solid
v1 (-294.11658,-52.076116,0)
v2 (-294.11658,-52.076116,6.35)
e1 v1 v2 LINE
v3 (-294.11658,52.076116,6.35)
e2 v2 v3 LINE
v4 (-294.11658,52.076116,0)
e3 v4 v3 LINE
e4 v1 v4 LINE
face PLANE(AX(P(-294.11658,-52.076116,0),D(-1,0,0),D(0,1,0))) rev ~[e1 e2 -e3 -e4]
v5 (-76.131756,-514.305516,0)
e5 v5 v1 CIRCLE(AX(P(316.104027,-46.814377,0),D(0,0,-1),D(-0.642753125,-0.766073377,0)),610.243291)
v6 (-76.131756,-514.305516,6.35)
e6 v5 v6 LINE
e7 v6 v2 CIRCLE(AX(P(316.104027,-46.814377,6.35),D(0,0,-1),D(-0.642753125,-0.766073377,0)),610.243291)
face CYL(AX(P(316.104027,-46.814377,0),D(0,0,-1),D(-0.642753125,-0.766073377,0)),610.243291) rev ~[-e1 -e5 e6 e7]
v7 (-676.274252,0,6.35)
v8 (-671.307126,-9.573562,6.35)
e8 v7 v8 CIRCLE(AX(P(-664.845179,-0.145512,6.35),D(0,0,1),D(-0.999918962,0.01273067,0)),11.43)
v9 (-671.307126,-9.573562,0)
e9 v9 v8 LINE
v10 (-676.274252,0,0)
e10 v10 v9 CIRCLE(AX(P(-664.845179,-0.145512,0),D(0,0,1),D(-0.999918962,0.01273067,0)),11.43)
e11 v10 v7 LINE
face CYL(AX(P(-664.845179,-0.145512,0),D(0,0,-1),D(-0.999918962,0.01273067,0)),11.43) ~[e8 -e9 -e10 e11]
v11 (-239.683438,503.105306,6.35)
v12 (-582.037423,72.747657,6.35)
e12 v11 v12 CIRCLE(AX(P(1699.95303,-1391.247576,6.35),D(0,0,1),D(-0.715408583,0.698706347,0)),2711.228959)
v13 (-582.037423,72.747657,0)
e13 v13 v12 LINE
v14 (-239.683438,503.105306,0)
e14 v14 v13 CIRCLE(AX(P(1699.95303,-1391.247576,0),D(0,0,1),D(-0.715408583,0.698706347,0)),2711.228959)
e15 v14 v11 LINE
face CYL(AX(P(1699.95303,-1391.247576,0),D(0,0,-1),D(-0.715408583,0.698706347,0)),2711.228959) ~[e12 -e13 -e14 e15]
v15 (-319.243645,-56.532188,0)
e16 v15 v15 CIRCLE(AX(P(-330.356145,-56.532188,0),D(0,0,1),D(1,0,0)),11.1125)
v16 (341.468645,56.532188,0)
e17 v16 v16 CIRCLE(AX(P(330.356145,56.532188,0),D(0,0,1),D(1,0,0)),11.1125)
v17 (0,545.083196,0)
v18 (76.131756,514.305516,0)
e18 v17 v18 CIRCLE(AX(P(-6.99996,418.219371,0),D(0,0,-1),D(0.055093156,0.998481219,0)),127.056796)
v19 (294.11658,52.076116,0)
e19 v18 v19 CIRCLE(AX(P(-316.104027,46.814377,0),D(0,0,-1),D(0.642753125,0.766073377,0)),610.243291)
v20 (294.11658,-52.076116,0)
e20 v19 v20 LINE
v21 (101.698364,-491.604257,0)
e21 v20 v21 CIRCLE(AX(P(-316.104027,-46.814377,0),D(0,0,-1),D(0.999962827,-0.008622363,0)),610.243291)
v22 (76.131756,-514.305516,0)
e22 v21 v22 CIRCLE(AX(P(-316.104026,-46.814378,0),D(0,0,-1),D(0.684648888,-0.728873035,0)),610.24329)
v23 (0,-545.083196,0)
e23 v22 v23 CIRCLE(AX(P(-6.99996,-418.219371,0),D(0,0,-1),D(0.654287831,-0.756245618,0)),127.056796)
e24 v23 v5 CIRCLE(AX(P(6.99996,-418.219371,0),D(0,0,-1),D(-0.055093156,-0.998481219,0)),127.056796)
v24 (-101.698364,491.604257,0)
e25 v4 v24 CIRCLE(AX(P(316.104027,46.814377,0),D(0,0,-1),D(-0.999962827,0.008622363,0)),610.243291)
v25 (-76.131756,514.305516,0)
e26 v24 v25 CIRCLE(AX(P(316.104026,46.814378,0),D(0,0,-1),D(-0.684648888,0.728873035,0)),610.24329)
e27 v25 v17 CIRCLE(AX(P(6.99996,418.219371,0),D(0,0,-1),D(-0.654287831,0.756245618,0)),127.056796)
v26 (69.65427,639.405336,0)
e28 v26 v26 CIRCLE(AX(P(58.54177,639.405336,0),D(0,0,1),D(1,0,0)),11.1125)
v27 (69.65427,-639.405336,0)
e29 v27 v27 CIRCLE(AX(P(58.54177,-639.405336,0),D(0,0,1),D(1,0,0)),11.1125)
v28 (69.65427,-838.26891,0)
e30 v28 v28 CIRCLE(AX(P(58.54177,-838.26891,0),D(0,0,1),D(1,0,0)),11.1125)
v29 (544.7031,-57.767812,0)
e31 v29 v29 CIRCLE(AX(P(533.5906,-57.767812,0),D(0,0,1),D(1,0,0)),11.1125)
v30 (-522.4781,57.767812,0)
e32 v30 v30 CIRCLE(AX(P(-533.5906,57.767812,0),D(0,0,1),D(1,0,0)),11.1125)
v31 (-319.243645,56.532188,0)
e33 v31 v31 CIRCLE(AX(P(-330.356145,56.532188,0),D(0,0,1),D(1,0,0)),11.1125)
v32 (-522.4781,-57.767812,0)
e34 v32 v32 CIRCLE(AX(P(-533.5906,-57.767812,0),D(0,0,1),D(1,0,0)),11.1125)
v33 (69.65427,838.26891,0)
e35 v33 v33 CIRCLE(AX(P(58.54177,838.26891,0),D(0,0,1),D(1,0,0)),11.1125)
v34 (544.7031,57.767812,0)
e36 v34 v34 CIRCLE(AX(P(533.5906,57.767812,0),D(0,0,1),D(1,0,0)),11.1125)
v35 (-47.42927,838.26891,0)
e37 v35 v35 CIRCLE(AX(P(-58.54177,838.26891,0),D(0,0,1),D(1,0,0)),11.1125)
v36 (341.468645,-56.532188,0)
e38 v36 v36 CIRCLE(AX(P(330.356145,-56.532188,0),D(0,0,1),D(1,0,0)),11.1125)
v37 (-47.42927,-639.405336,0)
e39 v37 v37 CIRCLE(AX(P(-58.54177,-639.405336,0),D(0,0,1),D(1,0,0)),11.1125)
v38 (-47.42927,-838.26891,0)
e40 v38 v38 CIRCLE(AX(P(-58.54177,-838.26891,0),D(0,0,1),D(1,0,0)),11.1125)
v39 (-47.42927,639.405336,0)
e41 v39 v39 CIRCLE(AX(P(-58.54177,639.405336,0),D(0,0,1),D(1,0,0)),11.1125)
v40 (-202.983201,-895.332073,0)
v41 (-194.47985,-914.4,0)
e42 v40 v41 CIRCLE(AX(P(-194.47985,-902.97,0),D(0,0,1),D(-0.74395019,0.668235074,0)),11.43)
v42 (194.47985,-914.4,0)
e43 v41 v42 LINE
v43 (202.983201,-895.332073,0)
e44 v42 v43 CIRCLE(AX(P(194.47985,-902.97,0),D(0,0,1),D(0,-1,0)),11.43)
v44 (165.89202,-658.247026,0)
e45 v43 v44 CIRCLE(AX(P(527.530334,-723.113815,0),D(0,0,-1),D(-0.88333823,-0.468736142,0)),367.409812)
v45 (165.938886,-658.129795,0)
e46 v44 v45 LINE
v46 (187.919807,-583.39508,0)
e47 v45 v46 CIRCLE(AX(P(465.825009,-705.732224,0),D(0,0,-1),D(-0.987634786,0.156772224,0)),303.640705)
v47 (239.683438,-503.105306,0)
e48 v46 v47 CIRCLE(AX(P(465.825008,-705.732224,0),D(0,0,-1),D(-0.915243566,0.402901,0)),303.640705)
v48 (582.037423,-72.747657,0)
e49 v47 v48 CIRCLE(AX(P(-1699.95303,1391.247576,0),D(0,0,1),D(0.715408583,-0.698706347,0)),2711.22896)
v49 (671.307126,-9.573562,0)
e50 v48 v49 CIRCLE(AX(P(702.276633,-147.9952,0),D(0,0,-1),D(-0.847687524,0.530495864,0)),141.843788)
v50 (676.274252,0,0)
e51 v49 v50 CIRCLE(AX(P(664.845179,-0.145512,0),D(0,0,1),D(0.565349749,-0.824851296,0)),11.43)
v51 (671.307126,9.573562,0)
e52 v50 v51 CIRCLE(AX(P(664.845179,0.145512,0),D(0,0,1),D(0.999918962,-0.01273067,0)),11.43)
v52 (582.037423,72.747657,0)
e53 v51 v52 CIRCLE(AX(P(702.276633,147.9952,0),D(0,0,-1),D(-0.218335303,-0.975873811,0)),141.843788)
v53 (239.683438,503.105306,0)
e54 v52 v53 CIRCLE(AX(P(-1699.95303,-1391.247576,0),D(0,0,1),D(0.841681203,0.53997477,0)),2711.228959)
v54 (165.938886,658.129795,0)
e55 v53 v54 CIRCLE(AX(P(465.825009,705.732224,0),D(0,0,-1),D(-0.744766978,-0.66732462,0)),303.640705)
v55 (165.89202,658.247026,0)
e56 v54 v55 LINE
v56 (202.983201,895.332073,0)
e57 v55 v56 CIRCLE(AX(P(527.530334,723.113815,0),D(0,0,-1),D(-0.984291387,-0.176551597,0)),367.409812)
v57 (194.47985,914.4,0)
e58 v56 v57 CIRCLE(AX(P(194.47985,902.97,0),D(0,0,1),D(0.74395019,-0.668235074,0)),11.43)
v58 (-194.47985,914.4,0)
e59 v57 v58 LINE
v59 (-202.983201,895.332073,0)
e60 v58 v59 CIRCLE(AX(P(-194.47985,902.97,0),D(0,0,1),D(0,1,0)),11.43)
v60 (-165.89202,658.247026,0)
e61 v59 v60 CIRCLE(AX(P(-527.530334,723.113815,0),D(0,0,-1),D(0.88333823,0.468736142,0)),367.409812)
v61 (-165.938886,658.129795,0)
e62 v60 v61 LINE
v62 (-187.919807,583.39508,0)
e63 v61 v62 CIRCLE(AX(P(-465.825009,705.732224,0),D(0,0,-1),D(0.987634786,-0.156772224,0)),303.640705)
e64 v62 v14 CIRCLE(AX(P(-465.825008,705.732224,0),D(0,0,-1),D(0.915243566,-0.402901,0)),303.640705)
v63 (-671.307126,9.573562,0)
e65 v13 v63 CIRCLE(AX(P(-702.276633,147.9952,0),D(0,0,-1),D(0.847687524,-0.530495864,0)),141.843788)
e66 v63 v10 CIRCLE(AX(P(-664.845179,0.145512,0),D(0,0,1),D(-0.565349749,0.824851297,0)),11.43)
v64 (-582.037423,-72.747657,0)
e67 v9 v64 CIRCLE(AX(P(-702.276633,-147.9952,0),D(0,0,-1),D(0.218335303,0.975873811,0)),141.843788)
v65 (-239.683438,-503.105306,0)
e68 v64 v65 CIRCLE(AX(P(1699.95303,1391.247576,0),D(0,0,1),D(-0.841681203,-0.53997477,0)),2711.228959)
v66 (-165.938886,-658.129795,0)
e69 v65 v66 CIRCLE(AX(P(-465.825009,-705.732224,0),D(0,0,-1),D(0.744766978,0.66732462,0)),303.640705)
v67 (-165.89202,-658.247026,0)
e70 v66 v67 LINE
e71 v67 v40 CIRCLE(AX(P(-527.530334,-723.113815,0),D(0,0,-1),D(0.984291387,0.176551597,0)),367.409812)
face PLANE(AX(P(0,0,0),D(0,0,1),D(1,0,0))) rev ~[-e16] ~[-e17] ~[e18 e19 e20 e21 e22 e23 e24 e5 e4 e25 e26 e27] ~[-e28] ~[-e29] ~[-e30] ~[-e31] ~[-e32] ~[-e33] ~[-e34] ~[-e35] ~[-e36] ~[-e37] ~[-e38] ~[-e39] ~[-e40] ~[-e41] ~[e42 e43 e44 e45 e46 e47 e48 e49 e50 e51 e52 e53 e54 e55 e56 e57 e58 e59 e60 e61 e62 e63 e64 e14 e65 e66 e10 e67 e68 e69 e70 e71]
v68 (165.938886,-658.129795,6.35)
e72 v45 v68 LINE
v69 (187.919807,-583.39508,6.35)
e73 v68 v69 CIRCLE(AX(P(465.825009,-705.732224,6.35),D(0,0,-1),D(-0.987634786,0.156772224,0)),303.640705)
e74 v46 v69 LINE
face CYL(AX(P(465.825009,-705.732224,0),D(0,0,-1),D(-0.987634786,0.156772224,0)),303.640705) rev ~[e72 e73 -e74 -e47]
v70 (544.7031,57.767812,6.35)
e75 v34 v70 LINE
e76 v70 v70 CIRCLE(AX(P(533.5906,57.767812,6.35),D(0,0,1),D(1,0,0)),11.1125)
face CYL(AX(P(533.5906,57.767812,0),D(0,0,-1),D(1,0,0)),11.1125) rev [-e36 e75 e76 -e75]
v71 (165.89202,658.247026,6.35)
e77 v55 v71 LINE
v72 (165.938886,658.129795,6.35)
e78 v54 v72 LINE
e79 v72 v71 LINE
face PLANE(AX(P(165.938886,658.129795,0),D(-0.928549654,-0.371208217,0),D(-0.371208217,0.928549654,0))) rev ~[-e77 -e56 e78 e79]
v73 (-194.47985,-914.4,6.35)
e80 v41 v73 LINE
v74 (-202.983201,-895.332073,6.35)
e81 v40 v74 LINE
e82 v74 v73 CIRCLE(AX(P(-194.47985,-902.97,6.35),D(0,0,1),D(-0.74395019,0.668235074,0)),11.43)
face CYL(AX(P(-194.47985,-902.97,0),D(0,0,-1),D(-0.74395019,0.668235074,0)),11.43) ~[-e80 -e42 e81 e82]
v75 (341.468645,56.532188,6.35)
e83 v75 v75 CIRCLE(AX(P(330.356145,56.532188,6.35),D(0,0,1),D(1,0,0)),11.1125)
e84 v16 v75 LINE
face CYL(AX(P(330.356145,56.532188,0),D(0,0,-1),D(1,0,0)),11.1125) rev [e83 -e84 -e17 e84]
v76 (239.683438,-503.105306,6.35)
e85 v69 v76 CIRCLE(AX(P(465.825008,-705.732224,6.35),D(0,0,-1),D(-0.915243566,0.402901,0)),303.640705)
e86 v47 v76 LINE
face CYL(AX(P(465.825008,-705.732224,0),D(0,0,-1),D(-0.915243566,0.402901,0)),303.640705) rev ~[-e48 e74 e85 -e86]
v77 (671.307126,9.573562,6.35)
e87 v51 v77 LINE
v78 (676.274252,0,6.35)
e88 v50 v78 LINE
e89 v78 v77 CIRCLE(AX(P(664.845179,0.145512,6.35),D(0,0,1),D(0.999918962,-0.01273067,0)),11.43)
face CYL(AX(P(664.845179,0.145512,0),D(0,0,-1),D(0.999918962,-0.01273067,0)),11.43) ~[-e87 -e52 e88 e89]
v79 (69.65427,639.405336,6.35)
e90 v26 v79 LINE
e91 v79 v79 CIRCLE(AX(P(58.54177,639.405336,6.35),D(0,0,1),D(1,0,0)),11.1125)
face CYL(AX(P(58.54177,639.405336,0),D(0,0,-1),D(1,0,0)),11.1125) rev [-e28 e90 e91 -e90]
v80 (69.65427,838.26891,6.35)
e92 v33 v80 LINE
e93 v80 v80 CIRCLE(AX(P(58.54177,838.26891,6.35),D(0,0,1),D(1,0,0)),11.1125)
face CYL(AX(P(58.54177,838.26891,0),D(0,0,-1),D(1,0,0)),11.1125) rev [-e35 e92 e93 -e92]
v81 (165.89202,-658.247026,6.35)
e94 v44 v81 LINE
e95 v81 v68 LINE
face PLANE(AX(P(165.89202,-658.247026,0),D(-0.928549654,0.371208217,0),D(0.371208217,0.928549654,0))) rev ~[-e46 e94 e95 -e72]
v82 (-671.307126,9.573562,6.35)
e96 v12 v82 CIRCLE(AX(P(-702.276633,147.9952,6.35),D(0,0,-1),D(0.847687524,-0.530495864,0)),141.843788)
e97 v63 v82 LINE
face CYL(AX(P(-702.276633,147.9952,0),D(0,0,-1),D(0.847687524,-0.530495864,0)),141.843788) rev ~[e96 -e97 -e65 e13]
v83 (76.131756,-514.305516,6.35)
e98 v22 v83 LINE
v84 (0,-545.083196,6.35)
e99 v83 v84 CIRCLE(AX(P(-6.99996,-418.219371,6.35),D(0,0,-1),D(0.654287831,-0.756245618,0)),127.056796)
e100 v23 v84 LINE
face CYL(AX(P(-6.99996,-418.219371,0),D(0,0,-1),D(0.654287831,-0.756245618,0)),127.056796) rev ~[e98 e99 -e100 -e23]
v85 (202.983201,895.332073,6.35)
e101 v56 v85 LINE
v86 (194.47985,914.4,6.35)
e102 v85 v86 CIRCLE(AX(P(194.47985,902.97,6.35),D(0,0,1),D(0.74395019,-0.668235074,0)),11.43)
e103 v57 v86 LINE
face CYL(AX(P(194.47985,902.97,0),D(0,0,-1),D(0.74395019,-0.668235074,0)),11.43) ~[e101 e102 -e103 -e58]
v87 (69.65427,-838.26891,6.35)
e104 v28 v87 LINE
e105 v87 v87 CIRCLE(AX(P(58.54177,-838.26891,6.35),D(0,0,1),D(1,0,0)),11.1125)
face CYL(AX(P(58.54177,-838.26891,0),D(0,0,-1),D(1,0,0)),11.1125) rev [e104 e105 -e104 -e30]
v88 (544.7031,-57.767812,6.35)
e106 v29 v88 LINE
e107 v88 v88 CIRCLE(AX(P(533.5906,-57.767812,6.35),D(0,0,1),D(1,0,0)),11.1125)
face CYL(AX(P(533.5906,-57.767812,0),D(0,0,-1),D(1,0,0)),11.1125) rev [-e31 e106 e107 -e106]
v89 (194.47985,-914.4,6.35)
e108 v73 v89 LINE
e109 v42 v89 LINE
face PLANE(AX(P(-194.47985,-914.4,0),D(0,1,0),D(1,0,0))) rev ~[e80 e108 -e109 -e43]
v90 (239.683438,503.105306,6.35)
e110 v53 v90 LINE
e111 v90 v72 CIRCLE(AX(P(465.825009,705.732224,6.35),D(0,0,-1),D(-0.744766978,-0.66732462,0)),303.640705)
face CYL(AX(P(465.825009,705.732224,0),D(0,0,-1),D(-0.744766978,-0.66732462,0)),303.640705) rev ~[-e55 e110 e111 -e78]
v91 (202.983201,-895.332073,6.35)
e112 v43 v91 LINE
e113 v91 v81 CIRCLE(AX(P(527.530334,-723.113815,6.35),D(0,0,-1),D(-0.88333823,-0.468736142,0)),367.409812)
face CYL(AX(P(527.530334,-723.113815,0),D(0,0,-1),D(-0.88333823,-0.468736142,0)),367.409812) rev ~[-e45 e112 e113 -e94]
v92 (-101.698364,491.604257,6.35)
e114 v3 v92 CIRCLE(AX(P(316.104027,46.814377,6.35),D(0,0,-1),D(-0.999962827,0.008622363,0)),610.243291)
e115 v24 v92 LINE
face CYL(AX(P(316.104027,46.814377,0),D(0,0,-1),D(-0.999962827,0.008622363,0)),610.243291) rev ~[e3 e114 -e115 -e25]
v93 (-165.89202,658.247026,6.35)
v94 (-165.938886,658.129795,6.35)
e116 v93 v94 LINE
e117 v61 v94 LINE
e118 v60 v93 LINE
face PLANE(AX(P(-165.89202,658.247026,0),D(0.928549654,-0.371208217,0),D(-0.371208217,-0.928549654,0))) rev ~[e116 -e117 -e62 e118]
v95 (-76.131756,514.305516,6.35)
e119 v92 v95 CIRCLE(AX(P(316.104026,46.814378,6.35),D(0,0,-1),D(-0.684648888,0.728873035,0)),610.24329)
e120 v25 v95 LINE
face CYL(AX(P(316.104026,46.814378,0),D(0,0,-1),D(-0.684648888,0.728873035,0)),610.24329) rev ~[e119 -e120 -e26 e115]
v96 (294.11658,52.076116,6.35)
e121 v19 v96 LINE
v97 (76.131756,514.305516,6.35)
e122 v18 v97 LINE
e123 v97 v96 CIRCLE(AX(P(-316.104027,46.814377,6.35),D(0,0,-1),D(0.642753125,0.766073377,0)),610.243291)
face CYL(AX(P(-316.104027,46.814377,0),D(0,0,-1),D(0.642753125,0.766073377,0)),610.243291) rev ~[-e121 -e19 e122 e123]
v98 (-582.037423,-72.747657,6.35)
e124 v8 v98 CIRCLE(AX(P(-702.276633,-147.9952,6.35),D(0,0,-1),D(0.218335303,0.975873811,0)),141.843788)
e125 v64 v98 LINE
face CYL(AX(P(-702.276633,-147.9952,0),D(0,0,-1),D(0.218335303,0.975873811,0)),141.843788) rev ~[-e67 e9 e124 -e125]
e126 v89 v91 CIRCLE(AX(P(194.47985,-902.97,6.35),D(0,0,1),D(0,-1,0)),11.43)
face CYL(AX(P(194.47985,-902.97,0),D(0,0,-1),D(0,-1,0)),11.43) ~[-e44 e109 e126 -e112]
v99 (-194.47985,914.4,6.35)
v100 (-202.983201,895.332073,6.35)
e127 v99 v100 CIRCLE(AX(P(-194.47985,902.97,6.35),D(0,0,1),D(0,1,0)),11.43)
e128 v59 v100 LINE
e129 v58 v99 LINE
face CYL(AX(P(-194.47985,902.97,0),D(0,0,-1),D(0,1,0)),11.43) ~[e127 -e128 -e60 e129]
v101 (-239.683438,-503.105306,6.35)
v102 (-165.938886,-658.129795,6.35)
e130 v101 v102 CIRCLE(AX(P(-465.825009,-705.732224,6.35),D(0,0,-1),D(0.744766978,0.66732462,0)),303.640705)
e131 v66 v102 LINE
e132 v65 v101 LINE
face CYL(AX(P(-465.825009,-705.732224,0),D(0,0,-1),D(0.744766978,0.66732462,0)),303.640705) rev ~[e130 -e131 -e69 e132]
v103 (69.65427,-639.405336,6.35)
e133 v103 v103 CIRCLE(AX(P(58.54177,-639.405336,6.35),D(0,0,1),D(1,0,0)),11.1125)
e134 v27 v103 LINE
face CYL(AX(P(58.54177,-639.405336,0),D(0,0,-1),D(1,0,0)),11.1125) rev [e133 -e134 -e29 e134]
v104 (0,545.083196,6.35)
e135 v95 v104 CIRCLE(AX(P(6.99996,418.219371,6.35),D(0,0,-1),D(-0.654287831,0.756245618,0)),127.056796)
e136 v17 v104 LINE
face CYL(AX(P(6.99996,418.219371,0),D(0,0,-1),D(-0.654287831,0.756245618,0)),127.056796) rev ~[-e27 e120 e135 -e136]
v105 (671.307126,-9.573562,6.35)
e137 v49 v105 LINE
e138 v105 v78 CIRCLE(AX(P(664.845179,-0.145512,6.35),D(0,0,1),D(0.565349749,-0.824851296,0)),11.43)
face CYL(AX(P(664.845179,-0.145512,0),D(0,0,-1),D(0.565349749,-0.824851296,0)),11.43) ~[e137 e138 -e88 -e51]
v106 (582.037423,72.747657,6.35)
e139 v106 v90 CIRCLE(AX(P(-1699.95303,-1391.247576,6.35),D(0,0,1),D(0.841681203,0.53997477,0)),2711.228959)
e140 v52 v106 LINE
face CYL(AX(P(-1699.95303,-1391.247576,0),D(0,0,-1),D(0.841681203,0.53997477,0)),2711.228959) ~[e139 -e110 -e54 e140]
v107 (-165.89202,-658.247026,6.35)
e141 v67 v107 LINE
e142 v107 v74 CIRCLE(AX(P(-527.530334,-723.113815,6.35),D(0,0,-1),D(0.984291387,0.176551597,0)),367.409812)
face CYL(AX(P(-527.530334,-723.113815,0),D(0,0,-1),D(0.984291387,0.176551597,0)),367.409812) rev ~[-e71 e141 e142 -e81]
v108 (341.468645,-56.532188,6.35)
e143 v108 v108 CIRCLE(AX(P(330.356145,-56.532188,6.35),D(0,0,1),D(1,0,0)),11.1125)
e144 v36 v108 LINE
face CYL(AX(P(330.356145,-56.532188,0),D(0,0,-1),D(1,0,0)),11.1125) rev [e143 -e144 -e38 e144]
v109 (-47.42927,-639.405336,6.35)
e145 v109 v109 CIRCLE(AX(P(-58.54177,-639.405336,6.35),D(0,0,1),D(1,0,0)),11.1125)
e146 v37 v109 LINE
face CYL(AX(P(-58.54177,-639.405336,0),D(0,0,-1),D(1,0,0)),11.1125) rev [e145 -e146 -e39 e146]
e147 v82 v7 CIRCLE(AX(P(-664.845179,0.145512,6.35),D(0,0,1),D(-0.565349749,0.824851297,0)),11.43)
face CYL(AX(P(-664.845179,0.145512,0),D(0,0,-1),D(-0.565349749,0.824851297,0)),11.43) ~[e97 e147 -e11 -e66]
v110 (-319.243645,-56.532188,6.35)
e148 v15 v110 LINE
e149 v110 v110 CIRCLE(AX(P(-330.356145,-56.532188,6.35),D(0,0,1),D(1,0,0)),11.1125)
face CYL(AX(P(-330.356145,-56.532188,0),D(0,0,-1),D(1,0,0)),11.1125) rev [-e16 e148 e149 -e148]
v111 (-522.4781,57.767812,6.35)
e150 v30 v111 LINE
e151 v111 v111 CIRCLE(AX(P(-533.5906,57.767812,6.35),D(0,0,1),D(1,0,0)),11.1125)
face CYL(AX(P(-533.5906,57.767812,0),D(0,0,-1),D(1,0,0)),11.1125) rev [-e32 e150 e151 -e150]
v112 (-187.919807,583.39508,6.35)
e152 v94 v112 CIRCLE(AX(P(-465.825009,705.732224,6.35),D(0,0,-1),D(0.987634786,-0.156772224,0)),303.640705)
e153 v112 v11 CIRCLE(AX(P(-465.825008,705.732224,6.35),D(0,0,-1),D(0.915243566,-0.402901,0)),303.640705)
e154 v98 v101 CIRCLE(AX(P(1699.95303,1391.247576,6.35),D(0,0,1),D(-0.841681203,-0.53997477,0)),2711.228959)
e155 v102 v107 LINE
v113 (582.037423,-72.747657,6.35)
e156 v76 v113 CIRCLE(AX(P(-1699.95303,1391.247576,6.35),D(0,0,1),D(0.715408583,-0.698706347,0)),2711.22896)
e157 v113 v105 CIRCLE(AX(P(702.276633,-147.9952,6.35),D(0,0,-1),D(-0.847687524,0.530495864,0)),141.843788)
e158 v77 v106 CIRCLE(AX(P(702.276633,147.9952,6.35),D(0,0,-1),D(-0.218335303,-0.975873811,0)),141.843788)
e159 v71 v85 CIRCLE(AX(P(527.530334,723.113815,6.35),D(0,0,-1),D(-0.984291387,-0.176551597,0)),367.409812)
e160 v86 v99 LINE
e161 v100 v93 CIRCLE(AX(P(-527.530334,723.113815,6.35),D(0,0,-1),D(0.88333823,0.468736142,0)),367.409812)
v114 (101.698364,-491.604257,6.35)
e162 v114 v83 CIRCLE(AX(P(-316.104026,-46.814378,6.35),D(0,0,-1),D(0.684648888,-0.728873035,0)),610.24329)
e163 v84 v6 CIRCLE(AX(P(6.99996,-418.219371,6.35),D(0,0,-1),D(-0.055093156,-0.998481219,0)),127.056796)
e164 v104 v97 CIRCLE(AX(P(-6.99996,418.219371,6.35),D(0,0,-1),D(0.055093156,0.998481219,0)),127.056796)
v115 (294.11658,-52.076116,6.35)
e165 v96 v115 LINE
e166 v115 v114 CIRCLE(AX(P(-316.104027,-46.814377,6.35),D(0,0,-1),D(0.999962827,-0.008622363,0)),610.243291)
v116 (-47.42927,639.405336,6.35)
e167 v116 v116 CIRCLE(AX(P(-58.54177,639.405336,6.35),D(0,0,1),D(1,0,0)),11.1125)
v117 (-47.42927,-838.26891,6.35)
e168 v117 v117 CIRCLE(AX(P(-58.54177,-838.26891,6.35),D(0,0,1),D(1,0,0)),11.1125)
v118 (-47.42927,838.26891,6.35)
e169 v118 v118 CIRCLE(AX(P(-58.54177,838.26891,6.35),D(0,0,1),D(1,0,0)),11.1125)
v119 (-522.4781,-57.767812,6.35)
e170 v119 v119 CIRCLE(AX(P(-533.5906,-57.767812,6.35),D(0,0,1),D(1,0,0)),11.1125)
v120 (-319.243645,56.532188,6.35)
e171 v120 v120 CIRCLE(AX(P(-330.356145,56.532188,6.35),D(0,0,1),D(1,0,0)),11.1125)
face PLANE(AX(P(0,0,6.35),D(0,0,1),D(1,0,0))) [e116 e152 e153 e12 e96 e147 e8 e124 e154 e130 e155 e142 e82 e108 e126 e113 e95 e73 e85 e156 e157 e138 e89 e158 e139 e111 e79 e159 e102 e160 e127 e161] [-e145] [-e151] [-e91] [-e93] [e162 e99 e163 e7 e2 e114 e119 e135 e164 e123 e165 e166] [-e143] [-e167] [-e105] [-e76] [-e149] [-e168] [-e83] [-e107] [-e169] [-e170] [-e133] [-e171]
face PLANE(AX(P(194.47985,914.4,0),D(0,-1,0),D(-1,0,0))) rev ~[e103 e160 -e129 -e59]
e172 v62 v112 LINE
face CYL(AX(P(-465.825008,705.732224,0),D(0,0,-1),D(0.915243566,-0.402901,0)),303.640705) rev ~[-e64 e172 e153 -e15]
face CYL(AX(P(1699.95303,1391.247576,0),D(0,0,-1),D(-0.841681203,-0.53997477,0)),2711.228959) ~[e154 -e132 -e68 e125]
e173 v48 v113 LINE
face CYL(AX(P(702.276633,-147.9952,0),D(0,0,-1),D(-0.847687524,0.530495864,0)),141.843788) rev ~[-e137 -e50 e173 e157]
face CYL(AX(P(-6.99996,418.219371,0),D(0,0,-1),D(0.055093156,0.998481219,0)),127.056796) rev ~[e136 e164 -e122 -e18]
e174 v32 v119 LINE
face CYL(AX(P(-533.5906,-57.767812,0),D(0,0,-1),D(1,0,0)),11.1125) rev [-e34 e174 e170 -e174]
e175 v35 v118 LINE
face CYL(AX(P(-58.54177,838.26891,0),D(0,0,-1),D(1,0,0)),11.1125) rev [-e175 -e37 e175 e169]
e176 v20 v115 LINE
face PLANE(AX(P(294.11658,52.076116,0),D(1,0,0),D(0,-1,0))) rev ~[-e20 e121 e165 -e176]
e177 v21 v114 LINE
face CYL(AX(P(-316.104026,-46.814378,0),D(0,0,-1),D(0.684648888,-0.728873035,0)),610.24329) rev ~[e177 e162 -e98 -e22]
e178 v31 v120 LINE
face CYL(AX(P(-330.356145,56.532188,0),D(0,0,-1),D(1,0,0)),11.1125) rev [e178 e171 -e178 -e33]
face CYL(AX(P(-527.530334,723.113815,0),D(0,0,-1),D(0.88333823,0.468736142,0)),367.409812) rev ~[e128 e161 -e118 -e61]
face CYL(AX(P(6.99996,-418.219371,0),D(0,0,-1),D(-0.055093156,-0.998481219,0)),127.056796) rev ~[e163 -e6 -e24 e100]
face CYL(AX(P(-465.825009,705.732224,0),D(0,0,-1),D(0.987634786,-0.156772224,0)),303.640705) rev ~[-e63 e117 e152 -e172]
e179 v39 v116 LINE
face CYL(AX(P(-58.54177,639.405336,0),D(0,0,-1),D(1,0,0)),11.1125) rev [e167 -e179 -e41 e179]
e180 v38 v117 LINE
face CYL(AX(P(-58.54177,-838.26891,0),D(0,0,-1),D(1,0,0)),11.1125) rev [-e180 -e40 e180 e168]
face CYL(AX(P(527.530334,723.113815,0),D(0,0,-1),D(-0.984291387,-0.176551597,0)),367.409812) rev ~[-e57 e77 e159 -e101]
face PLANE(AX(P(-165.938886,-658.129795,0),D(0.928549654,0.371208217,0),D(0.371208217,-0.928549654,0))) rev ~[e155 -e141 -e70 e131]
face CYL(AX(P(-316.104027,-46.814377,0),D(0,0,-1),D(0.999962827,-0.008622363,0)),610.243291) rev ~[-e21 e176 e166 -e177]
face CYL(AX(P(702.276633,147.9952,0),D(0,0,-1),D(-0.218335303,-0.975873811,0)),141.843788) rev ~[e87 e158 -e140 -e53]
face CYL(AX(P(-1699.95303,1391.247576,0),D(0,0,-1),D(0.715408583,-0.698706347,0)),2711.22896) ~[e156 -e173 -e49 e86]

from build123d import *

# Parameters (mm, degrees)
SKETCH2_R           = 11.1125
BOSS_EXTRUDE1_DEPTH = 6.35


with BuildPart() as part:
    # Sketch2 → Boss-Extrude1 (new body)
    with BuildSketch(Plane.XY):
        with BuildLine():
            Line((0, 914.4), (-194.479849892, 914.4))
            ThreePointArc((-194.479849892, 914.4), (-204.91887294, 907.625287079), (-202.983200568, 895.332073104))
            ThreePointArc((-202.983200568, 895.332073104), (-164.535916973, 779.903104595), (-165.892020397, 658.247026365))
            Line((-165.892020397, 658.247026365), (-165.938886188, 658.129795086))
            ThreePointArc((-165.938886188, 658.129795086), (-174.522720833, 620.054602536), (-187.919807247, 583.395080165))
            ThreePointArc((-187.919807247, 583.395080165), (-210.62430537, 541.201744159), (-239.683438479, 503.105305725))
            ThreePointArc((-239.683438479, 503.105305725), (-421.799875663, 296.628923536), (-582.037423098, 72.747657042))
            ThreePointArc((-582.037423098, 72.747657042), (-620.339092238, 32.211350912), (-671.307126152, 9.573561873))
            ThreePointArc((-671.307126152, 9.573561873), (-674.990888604, 5.409489794), (-676.274252252, 0))
            ThreePointArc((-676.274252252, 0), (-674.990888604, -5.409489794), (-671.307126152, -9.573561873))
            ThreePointArc((-671.307126152, -9.573561873), (-620.339092238, -32.211350912), (-582.037423098, -72.747657042))
            ThreePointArc((-582.037423098, -72.747657042), (-421.799875663, -296.628923536), (-239.683438479, -503.105305725))
            ThreePointArc((-239.683438479, -503.105305725), (-191.627212465, -575.297388544), (-165.938886188, -658.129795086))
            Line((-165.938886188, -658.129795086), (-165.892020397, -658.247026365))
            ThreePointArc((-165.892020397, -658.247026365), (-164.535916973, -779.903104595), (-202.983200568, -895.332073104))
            ThreePointArc((-202.983200568, -895.332073104), (-204.91887294, -907.625287079), (-194.479849892, -914.4))
            Line((-194.479849892, -914.4), (0, -914.4))
            Line((0, -914.4), (194.479849892, -914.4))
            ThreePointArc((194.479849892, -914.4), (204.91887294, -907.625287079), (202.983200568, -895.332073104))
            ThreePointArc((202.983200568, -895.332073104), (164.535916973, -779.903104595), (165.892020397, -658.247026365))
            Line((165.892020397, -658.247026365), (165.938886188, -658.129795086))
            ThreePointArc((165.938886188, -658.129795086), (174.522720833, -620.054602536), (187.919807247, -583.395080165))
            ThreePointArc((187.919807247, -583.395080165), (210.62430537, -541.201744159), (239.683438479, -503.105305725))
            ThreePointArc((239.683438479, -503.105305725), (421.799875663, -296.628923536), (582.037423098, -72.747657043))
            ThreePointArc((582.037423098, -72.747657043), (620.339092238, -32.211350912), (671.307126152, -9.573561873))
            ThreePointArc((671.307126152, -9.573561873), (674.990888603, -5.409489794), (676.274252252, 0))
            ThreePointArc((676.274252252, 0), (674.990888604, 5.409489794), (671.307126152, 9.573561873))
            ThreePointArc((671.307126152, 9.573561873), (620.339092238, 32.211350912), (582.037423098, 72.747657042))
            ThreePointArc((582.037423098, 72.747657042), (421.799875663, 296.628923536), (239.683438479, 503.105305725))
            ThreePointArc((239.683438479, 503.105305725), (191.627212465, 575.297388544), (165.938886188, 658.129795086))
            Line((165.938886188, 658.129795086), (165.892020397, 658.247026365))
            ThreePointArc((165.892020397, 658.247026365), (164.535916973, 779.903104595), (202.983200568, 895.332073104))
            ThreePointArc((202.983200568, 895.332073104), (204.91887294, 907.625287079), (194.479849892, 914.4))
            Line((194.479849892, 914.4), (0, 914.4))
        make_face()
        with Locations((-58.541769794, -639.405335996)):
            Circle(SKETCH2_R, mode=Mode.SUBTRACT)
        with Locations((-58.541769794, -838.268909678)):
            Circle(SKETCH2_R, mode=Mode.SUBTRACT)
        with Locations((58.541769794, -838.268909678)):
            Circle(SKETCH2_R, mode=Mode.SUBTRACT)
        with Locations((58.541769794, -639.405335996)):
            Circle(SKETCH2_R, mode=Mode.SUBTRACT)
        with Locations((533.590599666, -57.767812484)):
            Circle(SKETCH2_R, mode=Mode.SUBTRACT)
        with Locations((330.356144827, -56.532187516)):
            Circle(SKETCH2_R, mode=Mode.SUBTRACT)
        with Locations((330.356144827, 56.532187516)):
            Circle(SKETCH2_R, mode=Mode.SUBTRACT)
        with Locations((533.590599666, 57.767812484)):
            Circle(SKETCH2_R, mode=Mode.SUBTRACT)
        with Locations((58.541769794, 838.268909678)):
            Circle(SKETCH2_R, mode=Mode.SUBTRACT)
        with Locations((-58.541769794, 838.268909678)):
            Circle(SKETCH2_R, mode=Mode.SUBTRACT)
        with Locations((-58.541769794, 639.405335996)):
            Circle(SKETCH2_R, mode=Mode.SUBTRACT)
        with Locations((58.541769794, 639.405335996)):
            Circle(SKETCH2_R, mode=Mode.SUBTRACT)
        with Locations((-330.356144827, -56.532187516)):
            Circle(SKETCH2_R, mode=Mode.SUBTRACT)
        with Locations((-330.356144827, 56.532187516)):
            Circle(SKETCH2_R, mode=Mode.SUBTRACT)
        with Locations((-533.590599666, 57.767812484)):
            Circle(SKETCH2_R, mode=Mode.SUBTRACT)
        with Locations((-533.590599666, -57.767812484)):
            Circle(SKETCH2_R, mode=Mode.SUBTRACT)
        with BuildLine():
            Line((294.116579618, 52.07611641), (294.116579618, -52.07611641))
            ThreePointArc((294.116579618, -52.07611641), (242.916605185, -291.544447454), (101.6983636, -491.604256507))
            ThreePointArc((101.6983636, -491.604256507), (89.07407881, -503.133976698), (76.131755899, -514.305516063))
            ThreePointArc((76.131755899, -514.305516063), (40.620898237, -536.014461284), (0, -545.083195538))
            ThreePointArc((0, -545.083195538), (-40.620898237, -536.014461284), (-76.131755899, -514.305516063))
            ThreePointArc((-76.131755899, -514.305516063), (-235.841357727, -307.108762007), (-294.116579618, -52.07611641))
            Line((-294.116579618, -52.07611641), (-294.116579618, 52.07611641))
            ThreePointArc((-294.116579618, 52.07611641), (-242.916605185, 291.544447454), (-101.6983636, 491.604256507))
            ThreePointArc((-101.6983636, 491.604256507), (-89.07407881, 503.133976698), (-76.131755899, 514.305516063))
            ThreePointArc((-76.131755899, 514.305516063), (-40.620898237, 536.014461284), (0, 545.083195538))
            ThreePointArc((0, 545.083195538), (40.620898237, 536.014461284), (76.131755899, 514.305516063))
            ThreePointArc((76.131755899, 514.305516063), (235.841357727, 307.108762007), (294.116579618, 52.07611641))
        make_face(mode=Mode.SUBTRACT)
    extrude(amount=BOSS_EXTRUDE1_DEPTH)


solid = part.part
